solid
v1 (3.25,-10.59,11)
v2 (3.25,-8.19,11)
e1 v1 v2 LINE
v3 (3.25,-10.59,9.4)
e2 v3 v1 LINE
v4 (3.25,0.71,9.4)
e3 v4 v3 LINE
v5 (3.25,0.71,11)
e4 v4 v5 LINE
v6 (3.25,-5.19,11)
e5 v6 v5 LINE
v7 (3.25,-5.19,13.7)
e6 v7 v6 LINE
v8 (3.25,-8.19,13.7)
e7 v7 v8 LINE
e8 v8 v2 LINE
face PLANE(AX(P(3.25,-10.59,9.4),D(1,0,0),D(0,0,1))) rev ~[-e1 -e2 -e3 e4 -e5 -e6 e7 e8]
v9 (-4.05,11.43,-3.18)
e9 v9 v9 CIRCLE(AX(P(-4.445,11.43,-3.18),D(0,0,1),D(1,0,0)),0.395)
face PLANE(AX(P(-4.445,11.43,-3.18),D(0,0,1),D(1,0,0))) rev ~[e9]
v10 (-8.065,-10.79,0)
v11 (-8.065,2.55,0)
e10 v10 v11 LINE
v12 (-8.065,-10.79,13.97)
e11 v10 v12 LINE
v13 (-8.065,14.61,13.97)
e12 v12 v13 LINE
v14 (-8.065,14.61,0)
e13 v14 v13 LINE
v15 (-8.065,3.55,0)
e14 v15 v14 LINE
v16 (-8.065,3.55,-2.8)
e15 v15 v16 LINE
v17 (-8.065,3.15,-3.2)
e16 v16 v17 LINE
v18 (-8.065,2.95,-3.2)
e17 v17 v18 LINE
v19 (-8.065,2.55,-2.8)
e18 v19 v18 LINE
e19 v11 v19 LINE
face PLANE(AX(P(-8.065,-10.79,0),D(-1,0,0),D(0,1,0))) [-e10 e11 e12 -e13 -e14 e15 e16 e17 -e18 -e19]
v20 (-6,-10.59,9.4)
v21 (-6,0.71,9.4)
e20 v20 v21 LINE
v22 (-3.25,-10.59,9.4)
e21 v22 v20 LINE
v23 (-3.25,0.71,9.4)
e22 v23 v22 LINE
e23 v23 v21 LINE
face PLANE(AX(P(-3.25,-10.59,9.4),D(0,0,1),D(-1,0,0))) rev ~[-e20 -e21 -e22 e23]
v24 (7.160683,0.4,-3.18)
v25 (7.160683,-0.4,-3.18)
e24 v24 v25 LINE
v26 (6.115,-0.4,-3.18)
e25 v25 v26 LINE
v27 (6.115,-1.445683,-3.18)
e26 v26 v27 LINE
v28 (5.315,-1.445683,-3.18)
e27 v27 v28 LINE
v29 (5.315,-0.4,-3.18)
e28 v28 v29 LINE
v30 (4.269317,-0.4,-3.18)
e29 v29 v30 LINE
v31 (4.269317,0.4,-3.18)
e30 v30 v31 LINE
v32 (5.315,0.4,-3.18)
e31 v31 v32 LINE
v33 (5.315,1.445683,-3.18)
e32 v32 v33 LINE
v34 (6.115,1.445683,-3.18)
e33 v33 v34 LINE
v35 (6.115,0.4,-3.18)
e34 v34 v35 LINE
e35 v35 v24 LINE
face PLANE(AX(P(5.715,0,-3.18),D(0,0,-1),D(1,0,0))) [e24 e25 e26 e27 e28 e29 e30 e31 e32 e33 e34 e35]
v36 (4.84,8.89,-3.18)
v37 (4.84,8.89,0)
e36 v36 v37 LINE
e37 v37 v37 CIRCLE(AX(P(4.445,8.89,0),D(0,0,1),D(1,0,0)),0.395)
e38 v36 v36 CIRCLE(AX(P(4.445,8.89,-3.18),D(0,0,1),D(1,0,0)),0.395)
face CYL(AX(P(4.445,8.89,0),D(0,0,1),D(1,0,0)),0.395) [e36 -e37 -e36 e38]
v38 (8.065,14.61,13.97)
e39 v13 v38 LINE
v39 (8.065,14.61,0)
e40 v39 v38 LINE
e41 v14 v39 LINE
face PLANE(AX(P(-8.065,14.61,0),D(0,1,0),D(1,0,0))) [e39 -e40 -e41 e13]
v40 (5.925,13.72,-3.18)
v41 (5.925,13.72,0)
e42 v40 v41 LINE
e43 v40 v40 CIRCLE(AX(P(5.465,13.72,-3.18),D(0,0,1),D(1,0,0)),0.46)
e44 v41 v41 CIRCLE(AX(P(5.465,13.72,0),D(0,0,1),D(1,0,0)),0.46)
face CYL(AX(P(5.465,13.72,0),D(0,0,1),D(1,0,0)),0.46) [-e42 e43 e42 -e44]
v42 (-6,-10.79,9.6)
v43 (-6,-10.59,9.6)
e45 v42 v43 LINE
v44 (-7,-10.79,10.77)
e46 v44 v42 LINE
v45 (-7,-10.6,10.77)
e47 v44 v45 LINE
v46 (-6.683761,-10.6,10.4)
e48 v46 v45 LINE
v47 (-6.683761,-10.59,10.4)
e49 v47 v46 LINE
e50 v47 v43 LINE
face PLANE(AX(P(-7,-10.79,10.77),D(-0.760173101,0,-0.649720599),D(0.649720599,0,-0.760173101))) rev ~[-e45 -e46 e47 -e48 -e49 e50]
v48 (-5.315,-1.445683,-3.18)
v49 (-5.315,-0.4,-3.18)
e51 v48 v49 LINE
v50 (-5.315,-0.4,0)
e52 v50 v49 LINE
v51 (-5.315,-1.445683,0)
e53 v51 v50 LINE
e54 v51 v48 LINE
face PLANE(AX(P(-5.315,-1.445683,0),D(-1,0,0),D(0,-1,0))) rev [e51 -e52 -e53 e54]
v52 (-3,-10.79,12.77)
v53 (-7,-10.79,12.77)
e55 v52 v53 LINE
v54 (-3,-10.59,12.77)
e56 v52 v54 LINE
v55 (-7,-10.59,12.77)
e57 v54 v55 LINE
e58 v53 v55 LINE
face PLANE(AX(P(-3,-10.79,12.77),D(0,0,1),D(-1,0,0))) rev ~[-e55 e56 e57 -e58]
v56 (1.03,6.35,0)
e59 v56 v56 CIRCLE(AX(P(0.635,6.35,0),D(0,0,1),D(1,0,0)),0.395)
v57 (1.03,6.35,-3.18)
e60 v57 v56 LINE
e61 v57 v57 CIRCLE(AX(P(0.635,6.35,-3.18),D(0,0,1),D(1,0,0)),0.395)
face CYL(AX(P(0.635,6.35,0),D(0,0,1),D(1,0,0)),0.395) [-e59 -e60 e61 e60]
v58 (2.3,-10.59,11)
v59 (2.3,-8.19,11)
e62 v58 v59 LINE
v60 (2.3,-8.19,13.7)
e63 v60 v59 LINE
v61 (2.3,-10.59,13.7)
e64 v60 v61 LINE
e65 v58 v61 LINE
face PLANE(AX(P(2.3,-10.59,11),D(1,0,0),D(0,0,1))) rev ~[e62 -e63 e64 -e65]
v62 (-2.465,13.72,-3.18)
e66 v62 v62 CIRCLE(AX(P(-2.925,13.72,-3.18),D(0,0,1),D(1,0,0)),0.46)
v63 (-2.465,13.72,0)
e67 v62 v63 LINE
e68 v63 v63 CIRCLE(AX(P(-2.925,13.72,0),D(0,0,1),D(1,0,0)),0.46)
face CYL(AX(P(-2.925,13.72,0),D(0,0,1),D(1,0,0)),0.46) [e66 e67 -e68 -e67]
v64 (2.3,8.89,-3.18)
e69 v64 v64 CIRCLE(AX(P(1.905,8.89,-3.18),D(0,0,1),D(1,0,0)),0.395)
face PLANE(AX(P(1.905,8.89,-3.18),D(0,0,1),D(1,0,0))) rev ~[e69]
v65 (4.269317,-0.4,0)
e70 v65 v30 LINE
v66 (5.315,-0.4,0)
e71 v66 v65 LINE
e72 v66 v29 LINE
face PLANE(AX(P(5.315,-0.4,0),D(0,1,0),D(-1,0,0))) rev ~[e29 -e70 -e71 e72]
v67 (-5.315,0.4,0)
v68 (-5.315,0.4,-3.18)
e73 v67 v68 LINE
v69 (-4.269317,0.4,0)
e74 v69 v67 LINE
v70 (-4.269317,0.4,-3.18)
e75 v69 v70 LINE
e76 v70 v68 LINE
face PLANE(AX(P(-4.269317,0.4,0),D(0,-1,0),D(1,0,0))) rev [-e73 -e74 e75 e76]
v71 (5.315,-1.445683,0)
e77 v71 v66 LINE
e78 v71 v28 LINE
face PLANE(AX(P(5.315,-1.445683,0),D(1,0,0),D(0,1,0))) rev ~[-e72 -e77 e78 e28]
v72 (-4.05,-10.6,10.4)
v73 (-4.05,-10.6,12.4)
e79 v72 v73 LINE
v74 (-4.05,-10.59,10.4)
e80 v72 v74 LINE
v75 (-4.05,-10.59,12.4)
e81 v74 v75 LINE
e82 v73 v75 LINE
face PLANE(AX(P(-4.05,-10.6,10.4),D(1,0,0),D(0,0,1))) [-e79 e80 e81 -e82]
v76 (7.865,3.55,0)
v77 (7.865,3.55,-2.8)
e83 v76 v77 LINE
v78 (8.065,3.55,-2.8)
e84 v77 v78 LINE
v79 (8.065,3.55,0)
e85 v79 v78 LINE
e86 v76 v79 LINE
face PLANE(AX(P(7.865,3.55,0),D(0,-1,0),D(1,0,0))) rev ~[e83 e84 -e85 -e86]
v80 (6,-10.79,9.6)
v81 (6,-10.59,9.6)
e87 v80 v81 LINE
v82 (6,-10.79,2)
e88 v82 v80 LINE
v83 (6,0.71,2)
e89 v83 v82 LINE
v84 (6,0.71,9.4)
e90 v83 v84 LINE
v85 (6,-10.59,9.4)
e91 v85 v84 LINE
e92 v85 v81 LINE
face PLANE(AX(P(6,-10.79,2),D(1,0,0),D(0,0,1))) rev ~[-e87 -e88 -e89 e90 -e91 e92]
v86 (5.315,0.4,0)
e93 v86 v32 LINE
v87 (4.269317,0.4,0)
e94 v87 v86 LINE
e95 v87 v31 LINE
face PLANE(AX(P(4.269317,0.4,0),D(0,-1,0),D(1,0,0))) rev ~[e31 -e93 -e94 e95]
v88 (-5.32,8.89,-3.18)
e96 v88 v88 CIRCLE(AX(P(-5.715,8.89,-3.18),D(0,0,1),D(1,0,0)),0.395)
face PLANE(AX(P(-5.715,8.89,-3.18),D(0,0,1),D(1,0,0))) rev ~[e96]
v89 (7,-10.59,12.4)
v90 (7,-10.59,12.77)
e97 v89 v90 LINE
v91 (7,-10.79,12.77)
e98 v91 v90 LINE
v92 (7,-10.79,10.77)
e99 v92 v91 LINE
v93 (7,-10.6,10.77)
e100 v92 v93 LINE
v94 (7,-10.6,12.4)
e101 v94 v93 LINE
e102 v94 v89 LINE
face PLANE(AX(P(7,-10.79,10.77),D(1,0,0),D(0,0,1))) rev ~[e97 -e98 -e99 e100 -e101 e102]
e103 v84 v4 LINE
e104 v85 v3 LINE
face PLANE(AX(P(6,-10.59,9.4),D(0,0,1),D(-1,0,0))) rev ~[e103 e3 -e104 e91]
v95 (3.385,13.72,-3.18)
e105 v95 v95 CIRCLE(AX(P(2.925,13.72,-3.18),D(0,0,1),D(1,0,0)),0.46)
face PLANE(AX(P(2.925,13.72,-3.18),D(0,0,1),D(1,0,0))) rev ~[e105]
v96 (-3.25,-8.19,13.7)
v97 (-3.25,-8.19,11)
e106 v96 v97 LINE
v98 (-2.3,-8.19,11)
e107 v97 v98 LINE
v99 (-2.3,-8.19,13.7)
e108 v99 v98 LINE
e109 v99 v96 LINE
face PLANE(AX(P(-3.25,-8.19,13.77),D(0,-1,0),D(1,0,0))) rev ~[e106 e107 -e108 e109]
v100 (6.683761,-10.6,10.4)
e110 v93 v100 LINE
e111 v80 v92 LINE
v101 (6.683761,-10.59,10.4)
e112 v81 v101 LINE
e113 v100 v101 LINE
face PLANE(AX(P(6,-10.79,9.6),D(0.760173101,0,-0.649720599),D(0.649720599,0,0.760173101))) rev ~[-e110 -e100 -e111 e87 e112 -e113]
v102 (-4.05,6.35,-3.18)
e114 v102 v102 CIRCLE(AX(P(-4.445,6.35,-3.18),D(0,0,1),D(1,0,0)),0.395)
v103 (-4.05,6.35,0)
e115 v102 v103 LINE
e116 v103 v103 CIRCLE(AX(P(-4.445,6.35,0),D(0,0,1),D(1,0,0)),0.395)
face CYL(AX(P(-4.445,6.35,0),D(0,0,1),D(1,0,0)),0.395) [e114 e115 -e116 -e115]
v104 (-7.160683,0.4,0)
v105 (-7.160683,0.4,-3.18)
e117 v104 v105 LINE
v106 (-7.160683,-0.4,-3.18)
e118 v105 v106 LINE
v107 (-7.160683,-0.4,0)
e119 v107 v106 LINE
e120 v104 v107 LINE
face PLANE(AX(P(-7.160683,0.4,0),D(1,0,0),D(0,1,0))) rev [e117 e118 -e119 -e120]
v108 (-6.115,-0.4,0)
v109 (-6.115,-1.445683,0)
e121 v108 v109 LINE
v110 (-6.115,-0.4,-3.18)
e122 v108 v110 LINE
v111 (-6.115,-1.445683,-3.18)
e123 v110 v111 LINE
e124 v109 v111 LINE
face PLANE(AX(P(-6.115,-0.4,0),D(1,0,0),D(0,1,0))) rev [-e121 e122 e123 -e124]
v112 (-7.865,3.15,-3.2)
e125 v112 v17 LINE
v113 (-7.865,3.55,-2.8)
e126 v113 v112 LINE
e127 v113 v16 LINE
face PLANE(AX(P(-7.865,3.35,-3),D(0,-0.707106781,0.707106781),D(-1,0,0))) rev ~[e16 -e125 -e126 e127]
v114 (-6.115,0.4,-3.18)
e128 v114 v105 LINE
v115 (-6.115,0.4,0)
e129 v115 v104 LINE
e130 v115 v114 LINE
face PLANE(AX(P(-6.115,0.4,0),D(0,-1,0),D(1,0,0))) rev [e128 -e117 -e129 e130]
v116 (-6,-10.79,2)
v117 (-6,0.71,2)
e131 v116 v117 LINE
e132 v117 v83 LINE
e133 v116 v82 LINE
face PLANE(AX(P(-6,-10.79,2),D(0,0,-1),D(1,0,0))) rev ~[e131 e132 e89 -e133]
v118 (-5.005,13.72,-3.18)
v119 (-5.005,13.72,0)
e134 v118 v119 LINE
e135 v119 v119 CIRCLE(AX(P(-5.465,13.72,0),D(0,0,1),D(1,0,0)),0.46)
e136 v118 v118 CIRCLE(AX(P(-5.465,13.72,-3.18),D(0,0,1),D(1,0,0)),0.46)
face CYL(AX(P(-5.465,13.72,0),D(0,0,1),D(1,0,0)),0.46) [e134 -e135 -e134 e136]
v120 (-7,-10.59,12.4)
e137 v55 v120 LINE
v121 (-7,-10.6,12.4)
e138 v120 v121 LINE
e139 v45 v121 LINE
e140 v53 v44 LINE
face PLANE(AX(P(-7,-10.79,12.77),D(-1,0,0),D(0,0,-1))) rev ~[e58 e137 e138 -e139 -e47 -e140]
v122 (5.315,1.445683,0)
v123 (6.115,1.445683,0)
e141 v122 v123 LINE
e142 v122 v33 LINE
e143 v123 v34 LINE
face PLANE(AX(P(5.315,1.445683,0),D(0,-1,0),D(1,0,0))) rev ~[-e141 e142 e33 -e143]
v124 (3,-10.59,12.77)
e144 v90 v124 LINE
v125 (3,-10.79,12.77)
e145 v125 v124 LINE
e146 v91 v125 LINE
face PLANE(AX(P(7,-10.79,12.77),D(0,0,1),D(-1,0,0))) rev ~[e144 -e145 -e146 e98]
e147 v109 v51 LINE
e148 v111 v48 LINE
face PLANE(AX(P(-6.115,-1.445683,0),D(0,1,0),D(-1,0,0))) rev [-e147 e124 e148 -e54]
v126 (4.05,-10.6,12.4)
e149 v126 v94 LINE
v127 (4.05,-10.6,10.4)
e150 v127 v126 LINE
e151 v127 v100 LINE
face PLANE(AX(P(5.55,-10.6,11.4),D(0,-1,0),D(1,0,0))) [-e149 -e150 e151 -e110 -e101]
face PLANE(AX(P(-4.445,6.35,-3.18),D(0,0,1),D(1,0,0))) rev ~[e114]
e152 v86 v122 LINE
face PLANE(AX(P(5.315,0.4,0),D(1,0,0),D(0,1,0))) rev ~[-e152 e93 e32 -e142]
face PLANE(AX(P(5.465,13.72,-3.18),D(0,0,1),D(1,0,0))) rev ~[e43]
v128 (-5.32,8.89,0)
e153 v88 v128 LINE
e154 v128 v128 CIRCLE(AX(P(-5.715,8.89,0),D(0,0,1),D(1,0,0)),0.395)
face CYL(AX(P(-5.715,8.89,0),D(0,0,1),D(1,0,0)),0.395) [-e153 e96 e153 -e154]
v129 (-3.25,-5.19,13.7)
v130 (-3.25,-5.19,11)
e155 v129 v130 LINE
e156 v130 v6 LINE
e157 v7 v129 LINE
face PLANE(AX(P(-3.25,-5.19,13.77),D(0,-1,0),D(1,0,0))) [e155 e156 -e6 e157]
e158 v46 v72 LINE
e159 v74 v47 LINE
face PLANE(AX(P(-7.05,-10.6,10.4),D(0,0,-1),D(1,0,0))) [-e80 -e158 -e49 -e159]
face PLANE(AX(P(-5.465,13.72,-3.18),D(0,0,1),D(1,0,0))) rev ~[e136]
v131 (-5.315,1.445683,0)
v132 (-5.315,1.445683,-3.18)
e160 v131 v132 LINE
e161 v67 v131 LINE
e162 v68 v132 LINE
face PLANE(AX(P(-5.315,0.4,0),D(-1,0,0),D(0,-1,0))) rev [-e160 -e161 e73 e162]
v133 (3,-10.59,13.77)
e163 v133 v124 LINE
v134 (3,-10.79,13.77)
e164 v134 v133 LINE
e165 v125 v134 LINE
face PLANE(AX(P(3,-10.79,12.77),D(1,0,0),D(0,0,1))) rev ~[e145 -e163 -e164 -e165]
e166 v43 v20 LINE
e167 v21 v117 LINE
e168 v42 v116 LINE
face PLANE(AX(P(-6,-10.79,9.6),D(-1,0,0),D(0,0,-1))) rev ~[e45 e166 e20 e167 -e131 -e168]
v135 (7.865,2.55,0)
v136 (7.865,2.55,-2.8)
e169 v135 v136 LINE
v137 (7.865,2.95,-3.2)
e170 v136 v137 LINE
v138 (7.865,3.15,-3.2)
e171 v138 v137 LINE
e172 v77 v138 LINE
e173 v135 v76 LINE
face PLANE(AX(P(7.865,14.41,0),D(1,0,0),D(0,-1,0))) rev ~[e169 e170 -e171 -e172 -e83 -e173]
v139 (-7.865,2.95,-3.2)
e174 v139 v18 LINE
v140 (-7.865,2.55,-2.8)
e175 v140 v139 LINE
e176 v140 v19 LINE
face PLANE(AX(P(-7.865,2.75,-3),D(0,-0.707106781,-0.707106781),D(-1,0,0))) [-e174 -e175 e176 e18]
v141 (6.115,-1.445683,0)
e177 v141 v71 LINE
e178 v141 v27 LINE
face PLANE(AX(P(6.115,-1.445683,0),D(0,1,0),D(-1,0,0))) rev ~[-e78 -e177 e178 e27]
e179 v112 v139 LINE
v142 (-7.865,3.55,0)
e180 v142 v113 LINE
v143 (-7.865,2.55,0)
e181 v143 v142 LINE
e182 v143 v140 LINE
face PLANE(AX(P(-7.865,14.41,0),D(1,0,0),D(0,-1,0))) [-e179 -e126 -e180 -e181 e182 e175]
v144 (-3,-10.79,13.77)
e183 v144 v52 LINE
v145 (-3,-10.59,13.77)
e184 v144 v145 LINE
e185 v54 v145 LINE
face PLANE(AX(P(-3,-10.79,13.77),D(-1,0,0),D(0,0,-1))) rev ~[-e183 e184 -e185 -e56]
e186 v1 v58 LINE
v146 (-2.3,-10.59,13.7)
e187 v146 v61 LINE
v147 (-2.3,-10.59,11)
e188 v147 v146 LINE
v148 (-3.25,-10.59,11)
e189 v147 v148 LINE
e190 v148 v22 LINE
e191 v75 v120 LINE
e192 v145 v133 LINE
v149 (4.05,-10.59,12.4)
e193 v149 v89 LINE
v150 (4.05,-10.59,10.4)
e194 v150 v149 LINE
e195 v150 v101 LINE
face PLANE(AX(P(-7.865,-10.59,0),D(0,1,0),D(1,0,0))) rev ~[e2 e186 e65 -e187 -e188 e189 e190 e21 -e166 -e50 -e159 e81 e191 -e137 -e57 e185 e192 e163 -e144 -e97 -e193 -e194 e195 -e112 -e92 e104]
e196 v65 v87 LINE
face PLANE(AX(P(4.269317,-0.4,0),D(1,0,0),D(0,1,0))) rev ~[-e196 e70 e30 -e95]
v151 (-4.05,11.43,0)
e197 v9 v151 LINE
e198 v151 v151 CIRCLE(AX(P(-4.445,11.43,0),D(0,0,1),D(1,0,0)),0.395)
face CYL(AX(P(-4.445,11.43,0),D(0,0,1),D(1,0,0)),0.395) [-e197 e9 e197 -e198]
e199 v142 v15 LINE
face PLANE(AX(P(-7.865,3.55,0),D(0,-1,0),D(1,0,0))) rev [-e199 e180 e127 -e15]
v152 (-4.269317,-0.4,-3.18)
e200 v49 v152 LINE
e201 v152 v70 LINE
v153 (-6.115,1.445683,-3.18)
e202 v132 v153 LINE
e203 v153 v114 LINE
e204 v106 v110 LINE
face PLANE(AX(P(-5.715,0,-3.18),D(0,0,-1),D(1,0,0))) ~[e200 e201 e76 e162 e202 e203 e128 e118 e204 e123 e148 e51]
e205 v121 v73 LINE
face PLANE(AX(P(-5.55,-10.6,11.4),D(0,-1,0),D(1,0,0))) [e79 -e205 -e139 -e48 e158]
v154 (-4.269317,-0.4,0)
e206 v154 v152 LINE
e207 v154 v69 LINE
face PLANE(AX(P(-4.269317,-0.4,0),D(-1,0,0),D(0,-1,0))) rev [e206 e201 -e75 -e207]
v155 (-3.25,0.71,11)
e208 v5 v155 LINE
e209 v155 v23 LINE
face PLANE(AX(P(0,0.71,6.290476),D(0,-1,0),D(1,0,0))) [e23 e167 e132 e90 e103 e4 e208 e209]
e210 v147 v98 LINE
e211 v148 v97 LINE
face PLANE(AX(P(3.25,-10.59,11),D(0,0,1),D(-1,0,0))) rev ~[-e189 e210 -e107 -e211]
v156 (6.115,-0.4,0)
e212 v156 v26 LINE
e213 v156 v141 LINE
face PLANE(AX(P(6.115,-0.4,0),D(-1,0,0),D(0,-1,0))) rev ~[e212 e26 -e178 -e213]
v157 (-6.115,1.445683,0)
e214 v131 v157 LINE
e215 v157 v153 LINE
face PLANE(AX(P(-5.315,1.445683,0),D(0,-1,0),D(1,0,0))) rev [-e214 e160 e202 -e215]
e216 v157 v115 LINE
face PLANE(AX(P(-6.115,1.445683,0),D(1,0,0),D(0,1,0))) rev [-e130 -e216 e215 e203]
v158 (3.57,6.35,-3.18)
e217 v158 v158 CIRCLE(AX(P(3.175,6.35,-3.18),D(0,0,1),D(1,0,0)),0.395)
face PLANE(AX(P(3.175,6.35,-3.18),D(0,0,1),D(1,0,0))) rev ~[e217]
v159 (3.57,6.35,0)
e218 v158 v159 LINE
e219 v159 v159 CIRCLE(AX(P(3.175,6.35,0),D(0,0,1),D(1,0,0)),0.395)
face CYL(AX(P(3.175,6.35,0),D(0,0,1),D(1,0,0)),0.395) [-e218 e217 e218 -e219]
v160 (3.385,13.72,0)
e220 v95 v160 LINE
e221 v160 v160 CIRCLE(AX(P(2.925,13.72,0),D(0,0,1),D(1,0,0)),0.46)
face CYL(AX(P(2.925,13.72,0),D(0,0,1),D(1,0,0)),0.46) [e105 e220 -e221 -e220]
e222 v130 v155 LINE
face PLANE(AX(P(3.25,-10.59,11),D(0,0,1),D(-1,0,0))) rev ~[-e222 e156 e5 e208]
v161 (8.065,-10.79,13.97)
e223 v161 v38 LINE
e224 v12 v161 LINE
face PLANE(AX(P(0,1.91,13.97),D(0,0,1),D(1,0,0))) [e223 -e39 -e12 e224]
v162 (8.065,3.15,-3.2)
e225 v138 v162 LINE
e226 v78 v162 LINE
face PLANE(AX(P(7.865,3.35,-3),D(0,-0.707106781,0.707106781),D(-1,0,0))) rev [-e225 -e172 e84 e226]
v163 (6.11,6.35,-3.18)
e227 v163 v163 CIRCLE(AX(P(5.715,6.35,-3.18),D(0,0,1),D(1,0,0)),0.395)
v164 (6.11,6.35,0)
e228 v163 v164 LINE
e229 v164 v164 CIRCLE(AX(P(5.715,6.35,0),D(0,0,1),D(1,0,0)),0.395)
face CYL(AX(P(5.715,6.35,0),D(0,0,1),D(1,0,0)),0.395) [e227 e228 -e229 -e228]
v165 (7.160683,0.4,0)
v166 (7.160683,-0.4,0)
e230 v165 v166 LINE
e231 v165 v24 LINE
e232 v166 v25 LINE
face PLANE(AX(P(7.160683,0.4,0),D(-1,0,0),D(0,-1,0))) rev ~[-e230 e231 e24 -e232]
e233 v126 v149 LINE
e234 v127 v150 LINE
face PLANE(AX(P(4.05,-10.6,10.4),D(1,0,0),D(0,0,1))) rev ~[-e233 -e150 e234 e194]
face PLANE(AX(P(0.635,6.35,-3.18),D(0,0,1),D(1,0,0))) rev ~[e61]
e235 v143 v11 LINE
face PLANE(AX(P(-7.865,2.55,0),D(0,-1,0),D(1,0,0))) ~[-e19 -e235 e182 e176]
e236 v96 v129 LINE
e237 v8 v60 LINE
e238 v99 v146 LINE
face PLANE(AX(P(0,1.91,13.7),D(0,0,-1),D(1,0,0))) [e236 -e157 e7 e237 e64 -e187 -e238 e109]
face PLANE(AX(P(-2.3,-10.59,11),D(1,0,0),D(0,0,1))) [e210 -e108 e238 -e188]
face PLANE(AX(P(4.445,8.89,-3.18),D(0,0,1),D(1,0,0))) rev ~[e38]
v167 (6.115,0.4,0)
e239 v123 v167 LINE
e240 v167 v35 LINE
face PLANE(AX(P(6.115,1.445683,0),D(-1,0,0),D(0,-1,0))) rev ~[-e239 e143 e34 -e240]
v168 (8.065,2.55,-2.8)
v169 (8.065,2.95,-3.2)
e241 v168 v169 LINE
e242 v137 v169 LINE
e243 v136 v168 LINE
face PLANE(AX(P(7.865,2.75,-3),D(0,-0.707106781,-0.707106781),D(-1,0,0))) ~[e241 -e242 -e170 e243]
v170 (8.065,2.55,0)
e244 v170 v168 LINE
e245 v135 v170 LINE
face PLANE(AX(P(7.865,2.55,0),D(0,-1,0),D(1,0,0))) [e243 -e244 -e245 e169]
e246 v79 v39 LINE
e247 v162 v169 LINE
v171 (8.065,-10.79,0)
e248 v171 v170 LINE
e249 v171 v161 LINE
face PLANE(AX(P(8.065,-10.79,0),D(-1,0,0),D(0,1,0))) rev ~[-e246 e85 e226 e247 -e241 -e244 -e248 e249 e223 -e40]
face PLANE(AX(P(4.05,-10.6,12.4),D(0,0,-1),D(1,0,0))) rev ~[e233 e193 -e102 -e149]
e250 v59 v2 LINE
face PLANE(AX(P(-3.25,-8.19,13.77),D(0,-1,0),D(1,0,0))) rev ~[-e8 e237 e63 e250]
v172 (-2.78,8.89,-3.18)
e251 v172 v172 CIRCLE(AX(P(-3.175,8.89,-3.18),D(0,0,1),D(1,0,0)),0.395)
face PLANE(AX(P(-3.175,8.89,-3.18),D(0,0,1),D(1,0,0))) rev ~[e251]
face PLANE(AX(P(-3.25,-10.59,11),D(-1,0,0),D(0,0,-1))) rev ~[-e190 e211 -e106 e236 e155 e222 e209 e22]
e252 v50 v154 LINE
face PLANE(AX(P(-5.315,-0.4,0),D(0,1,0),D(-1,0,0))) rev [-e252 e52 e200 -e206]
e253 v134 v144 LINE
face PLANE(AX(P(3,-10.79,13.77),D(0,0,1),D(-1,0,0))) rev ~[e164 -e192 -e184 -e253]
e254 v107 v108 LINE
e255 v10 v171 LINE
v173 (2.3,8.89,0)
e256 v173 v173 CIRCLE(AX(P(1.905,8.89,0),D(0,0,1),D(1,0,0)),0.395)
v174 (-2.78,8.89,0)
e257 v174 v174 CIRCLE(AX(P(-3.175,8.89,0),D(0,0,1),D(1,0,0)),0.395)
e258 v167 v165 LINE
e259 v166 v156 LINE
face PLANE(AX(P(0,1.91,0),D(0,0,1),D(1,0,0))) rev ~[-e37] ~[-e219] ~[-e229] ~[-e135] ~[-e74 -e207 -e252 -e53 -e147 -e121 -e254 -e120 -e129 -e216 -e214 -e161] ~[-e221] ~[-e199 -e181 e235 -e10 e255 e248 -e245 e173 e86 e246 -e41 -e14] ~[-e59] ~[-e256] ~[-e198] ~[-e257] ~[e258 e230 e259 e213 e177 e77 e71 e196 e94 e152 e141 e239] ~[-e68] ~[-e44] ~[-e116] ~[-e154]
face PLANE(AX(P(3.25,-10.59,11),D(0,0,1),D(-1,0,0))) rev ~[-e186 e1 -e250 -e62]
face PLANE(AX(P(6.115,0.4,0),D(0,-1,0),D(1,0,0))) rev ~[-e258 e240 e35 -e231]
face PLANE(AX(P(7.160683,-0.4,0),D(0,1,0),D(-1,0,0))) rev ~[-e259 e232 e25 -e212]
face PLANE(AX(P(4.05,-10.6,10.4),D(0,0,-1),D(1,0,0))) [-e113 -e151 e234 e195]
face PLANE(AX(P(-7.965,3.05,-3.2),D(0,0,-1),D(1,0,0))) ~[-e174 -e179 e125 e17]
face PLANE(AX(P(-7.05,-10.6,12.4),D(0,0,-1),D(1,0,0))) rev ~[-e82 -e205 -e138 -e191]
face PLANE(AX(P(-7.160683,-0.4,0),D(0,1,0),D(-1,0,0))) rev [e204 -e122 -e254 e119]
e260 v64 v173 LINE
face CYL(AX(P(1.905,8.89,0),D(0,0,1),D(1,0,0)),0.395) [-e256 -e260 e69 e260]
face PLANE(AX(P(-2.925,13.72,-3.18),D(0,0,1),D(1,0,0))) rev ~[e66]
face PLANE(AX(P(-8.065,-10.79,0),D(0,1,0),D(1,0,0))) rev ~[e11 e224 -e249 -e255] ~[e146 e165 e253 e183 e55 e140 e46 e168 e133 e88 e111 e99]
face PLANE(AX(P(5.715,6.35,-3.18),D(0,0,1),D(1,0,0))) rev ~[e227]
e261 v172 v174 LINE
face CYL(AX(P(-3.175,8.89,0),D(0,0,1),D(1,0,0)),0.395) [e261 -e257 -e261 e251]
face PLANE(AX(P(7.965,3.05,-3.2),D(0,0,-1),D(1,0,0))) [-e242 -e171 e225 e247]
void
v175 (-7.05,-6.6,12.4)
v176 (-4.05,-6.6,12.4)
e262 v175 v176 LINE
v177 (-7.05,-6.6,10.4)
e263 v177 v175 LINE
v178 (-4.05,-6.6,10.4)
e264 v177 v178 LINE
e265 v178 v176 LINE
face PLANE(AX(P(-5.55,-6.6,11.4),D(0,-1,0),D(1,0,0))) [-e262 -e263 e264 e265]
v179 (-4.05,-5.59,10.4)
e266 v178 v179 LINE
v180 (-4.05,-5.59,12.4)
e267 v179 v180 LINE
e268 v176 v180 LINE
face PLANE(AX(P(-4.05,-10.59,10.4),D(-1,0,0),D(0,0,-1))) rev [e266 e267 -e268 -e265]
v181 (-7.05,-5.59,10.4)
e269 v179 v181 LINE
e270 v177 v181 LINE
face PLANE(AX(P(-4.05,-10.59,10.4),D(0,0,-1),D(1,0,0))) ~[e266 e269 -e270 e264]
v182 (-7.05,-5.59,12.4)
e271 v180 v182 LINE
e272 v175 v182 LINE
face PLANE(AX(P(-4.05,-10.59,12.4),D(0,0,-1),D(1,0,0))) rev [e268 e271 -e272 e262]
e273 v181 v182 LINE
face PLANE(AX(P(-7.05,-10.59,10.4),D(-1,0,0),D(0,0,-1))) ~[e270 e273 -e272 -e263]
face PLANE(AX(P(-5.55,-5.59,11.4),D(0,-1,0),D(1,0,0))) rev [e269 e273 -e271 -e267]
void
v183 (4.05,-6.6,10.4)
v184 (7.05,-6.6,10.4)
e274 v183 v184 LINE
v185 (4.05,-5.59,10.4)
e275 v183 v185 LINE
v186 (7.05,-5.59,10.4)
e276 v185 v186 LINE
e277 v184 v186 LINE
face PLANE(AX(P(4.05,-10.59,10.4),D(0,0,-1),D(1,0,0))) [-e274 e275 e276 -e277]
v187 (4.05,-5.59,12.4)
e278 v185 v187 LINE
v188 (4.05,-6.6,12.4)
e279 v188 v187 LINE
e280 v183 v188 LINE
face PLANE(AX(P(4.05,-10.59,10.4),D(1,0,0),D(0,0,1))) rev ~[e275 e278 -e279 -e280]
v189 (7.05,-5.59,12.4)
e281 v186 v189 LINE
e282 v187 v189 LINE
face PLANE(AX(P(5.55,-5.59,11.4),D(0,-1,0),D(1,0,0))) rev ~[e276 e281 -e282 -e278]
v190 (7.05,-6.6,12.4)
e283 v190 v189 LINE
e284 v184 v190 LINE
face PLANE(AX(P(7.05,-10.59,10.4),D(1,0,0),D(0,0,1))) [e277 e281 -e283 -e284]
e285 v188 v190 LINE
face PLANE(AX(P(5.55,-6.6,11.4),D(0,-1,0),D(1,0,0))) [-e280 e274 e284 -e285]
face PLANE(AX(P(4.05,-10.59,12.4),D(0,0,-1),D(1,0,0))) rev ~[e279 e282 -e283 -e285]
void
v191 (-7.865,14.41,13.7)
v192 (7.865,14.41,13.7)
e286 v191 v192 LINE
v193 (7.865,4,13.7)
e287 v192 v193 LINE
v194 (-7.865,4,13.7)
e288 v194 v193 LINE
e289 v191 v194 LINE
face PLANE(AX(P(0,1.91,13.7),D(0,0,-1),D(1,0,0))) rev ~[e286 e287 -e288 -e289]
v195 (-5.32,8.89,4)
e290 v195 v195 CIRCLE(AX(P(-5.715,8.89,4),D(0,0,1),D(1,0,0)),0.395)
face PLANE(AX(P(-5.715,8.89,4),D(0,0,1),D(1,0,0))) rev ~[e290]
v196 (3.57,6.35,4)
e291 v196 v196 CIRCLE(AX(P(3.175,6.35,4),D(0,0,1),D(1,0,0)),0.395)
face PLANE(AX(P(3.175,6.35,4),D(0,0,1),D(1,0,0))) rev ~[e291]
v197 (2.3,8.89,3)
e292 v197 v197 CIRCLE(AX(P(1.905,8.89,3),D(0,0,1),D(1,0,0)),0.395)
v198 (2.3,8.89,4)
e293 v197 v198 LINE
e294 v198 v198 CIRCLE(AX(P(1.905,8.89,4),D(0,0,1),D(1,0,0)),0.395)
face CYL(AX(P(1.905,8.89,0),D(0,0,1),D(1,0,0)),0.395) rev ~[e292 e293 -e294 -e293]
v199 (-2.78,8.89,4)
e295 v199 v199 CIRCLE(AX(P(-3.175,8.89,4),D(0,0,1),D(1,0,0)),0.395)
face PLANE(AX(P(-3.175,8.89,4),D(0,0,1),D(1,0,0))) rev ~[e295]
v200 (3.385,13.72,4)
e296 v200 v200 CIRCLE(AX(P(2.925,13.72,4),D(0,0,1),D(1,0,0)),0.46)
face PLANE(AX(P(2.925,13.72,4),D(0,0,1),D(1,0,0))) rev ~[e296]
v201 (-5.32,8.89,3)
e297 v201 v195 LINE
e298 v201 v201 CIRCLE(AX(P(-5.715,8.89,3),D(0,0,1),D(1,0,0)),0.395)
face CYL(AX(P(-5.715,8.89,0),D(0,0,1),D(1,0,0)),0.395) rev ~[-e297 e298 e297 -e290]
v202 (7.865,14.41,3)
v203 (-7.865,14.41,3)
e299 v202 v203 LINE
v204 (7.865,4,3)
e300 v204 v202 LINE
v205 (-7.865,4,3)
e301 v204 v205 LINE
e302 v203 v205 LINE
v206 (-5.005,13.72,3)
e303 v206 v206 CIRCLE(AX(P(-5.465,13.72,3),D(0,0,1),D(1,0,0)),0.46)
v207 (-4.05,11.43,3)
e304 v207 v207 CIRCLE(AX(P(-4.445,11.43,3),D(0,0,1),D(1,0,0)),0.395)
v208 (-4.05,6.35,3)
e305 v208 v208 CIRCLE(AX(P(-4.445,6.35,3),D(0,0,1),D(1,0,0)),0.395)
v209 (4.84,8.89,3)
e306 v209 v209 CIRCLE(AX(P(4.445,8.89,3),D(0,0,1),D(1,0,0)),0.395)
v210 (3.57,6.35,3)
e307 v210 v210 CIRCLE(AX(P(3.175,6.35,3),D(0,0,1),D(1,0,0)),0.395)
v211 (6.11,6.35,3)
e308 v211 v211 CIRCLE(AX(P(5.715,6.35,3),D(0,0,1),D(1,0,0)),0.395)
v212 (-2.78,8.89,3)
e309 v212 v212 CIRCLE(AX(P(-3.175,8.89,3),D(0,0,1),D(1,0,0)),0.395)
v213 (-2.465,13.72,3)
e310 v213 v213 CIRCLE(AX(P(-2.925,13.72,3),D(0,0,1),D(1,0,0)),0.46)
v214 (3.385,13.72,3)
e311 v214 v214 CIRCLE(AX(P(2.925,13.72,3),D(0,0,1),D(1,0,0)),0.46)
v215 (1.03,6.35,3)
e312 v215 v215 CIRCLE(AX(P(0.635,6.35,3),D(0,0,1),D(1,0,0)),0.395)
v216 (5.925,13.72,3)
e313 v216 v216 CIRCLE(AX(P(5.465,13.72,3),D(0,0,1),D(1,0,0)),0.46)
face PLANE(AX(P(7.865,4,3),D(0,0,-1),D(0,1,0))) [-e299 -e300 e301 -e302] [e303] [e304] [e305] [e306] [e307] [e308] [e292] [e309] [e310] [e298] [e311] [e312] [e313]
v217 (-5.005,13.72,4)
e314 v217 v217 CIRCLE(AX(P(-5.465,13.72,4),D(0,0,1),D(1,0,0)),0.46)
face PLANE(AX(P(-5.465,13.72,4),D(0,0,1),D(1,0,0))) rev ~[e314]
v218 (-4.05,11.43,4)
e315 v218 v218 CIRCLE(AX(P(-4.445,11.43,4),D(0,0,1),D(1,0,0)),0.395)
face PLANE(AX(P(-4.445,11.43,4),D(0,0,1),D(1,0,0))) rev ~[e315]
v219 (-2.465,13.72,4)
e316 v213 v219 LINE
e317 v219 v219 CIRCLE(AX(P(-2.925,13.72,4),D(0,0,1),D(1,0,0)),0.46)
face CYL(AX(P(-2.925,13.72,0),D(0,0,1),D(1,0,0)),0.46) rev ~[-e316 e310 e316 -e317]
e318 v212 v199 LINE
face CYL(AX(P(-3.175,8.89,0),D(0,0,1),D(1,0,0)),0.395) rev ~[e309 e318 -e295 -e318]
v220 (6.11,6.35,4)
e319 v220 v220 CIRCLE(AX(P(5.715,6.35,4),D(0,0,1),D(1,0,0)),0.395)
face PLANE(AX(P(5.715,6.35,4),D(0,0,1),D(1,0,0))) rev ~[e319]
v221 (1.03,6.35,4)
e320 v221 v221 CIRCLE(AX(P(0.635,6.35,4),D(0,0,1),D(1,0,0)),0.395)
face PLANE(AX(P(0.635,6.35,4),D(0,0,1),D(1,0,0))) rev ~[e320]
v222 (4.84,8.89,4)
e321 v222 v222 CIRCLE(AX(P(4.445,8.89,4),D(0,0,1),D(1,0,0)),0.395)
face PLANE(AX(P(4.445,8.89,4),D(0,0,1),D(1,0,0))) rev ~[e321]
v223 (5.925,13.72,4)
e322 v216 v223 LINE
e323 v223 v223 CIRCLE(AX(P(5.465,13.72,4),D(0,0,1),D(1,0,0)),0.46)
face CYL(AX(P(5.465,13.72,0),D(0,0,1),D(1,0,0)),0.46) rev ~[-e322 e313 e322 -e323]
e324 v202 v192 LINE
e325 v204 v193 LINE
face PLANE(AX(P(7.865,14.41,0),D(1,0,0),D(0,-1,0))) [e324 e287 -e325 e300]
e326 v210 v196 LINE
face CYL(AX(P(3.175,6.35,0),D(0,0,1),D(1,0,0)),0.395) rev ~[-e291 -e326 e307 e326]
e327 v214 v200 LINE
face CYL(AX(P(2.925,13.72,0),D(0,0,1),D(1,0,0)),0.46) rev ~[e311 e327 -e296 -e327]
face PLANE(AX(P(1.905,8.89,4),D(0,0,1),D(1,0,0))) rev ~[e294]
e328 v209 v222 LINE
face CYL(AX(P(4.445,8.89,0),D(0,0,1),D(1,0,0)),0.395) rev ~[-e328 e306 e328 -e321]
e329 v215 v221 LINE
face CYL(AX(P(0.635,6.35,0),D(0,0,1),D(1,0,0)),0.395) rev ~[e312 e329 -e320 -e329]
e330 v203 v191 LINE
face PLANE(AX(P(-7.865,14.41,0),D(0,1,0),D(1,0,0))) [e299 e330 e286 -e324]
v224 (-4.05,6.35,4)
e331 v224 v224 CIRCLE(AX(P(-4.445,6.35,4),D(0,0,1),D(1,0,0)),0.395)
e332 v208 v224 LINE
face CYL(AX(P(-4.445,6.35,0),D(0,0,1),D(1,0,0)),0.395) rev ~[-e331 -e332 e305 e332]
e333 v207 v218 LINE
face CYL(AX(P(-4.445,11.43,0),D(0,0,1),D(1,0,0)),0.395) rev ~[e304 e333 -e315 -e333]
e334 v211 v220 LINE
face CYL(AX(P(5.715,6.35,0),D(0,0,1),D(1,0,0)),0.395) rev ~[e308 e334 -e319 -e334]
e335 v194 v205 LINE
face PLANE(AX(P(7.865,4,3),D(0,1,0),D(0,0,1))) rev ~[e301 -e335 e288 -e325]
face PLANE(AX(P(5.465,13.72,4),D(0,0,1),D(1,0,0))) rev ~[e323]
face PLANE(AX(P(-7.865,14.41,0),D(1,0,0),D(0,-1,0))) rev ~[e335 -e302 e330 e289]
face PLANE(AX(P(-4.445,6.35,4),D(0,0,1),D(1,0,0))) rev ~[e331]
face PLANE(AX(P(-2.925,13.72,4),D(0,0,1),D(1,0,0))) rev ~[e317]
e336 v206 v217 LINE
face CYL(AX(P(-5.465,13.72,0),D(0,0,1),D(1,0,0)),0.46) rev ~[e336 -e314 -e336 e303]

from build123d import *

# Parameters (mm, degrees)
SKETCH012_R       = 0.395
SKETCH012_R_2     = 0.46
PAD005_DEPTH      = 4
PAD005_DEPTH_BACK = 3.18
SKETCH011_W       = 3
SKETCH011_H       = 2
PAD004_DEPTH      = 4
SKETCH010_W       = 3
SKETCH010_H       = 2
PAD003_DEPTH      = 4
SKETCH_W          = 15.73
SKETCH_H          = 25
PAD_DEPTH         = 13.77
PAD001_DEPTH      = 3.18
POCKET_DEPTH      = 11.3
SKETCH004_W       = 4.6
SKETCH004_H       = 3
POCKET002_DEPTH   = 5.4
SKETCH003_W       = 6.5
SKETCH003_H       = 3
POCKET003_DEPTH   = 11.77
SKETCH005_W       = 11
SKETCH005_H       = 12
POCKET004_DEPTH   = 15.731
SKETCH009_W       = 3
SKETCH009_H       = 2
POCKET007_DEPTH   = 5
SKETCH006_W       = 16.13
SKETCH006_H       = 25.4
PAD002_DEPTH      = 13.97
SKETCH007_W       = 15.73
SKETCH007_H       = 25
POCKET005_DEPTH   = 13.7
POCKET006_DEPTH   = 0.2
SKETCH013_W       = 0.2
SKETCH013_H       = 1
PAD006_DEPTH      = 3.2
CHAMFER_SIZE      = 0.4


with BuildPart() as pins_pad:
    # Sketch012 → Pad005 (new body, two sides)
    with BuildSketch(Plane.XY) as pad005_sk:
        with Locations((-4.445, 11.43)):
            Circle(SKETCH012_R)
        with Locations((-4.445, 6.35)):
            Circle(SKETCH012_R)
        with Locations((-5.715, 8.89)):
            Circle(SKETCH012_R)
        with Locations((-3.175, 8.89)):
            Circle(SKETCH012_R)
        with Locations((3.175, 6.35)):
            Circle(SKETCH012_R)
        with Locations((5.715, 6.35)):
            Circle(SKETCH012_R)
        with Locations((0.635, 6.35)):
            Circle(SKETCH012_R)
        with Locations((1.905, 8.89)):
            Circle(SKETCH012_R)
        with Locations((4.445, 8.89)):
            Circle(SKETCH012_R)
        with Locations((2.925, 13.72)):
            Circle(SKETCH012_R_2)
        with Locations((5.465, 13.72)):
            Circle(SKETCH012_R_2)
        with Locations((-5.465, 13.72)):
            Circle(SKETCH012_R_2)
        with Locations((-2.925, 13.72)):
            Circle(SKETCH012_R_2)
    extrude(amount=PAD005_DEPTH)
    extrude(pad005_sk.sketch, amount=-PAD005_DEPTH_BACK)


with BuildPart() as led_left_green_pad:
    # Sketch011 → Pad004 (new body)
    with BuildSketch(Plane.XZ.offset(10.6)):
        with Locations((-5.55, 11.4)):
            Rectangle(SKETCH011_W, SKETCH011_H)
    extrude(amount=-PAD004_DEPTH)


with BuildPart() as led_right_yellow_pad:
    # Sketch010 → Pad003 (new body)
    with BuildSketch(Plane.XZ.offset(10.6)):
        with Locations((5.55, 11.4)):
            Rectangle(SKETCH010_W, SKETCH010_H)
    extrude(amount=-PAD003_DEPTH)


with BuildPart() as led_left_mirrored:
    # Sketch → Pad (new body)
    with BuildSketch(Plane.XY):
        with Locations((0, 1.91)):
            Rectangle(SKETCH_W, SKETCH_H)
    extrude(amount=PAD_DEPTH)

    # Sketch001 → Pad001 (new body)
    with BuildSketch(Plane(origin=(0, 0, 0), x_dir=(1, 0, 0), z_dir=(0, 0, -1))):
        Polygon((5.315, 1.445683), (5.315, 0.4), (4.269317, 0.4), (4.269317, -0.4), (5.315, -0.4), (5.315, -1.445683), (6.115, -1.445683), (6.115, -0.4), (7.160683, -0.4), (7.160683, 0.4), (6.115, 0.4), (6.115, 1.445683), align=None)
    pad001 = extrude(amount=PAD001_DEPTH)

    # Mirrored: Pad001 across Sketch001 V_Axis
    add(pad001.mirror(Plane(origin=(0, 0, 0), x_dir=(0, 0, -1), z_dir=(1, 0, 0))))

    # Sketch002 → Pocket (cut)
    with BuildSketch(Plane.XZ.offset(10.59)):
        Polygon((-6, 2), (6, 2), (6, 9.4), (3.25, 9.4), (3.25, 11), (2.15, 11), (-2.15, 11), (-3.25, 11), (-3.25, 9.4), (-6, 9.4), align=None)
    extrude(amount=-POCKET_DEPTH, mode=Mode.SUBTRACT)

    # Sketch004 → Pocket002 (cut)
    with BuildSketch(Plane.XZ.offset(10.59)):
        with Locations((0, 12.5)):
            Rectangle(SKETCH004_W, SKETCH004_H)
    extrude(amount=-POCKET002_DEPTH, mode=Mode.SUBTRACT)

    # Sketch003 → Pocket003 (cut)
    with BuildSketch(Plane.XY.offset(13.77)):
        with Locations((0, -6.69)):
            Rectangle(SKETCH003_W, SKETCH003_H)
    extrude(amount=-POCKET003_DEPTH, mode=Mode.SUBTRACT)

    # Sketch005 → Pocket004 (cut, through all)
    with BuildSketch(Plane.YZ.offset(7.865)):
        with Locations((9.5, 9)):
            Rectangle(SKETCH005_W, SKETCH005_H)
    extrude(amount=-POCKET004_DEPTH, mode=Mode.SUBTRACT)

    # Sketch009 → Pocket007 (cut)
    with BuildSketch(Plane.XZ.offset(10.59)):
        with Locations((5.55, 11.4)):
            Rectangle(SKETCH009_W, SKETCH009_H)
    pocket007 = extrude(amount=-POCKET007_DEPTH, mode=Mode.SUBTRACT)

    # Mirrored001: Pocket007 across Sketch009 V_Axis
    add(pocket007.mirror(Plane(origin=(0, -10.59, 0), x_dir=(0, -1, 0), z_dir=(1, 0, 0))), mode=Mode.SUBTRACT)


with BuildPart() as conn_rj45_magjack_poep:
    # Sketch006 → Pad002 (new body)
    with BuildSketch(Plane.XY):
        with Locations((0, 1.91)):
            Rectangle(SKETCH006_W, SKETCH006_H)
    extrude(amount=PAD002_DEPTH)

    # Sketch007 → Pocket005 (cut)
    with BuildSketch(Plane(origin=(0, 0, 0), x_dir=(1, 0, 0), z_dir=(0, 0, -1))):
        with Locations((0, -1.91)):
            Rectangle(SKETCH007_W, SKETCH007_H)
    extrude(amount=-POCKET005_DEPTH, mode=Mode.SUBTRACT)

    # Sketch008 → Pocket006 (cut)
    with BuildSketch(Plane.XZ.offset(10.79)):
        Polygon((-6, 2), (6, 2), (6, 9.6), (7, 10.77), (7, 12.77), (3, 12.77), (3, 13.77), (-3, 13.77), (-3, 12.77), (-7, 12.77), (-7, 10.77), (-6, 9.6), align=None)
    extrude(amount=-POCKET006_DEPTH, mode=Mode.SUBTRACT)

    # Sketch013 → Pad006 (new body)
    with BuildSketch(Plane(origin=(0, 0, 0), x_dir=(1, 0, 0), z_dir=(0, 0, -1))):
        with Locations((7.965, -3.05)):
            Rectangle(SKETCH013_W, SKETCH013_H)
    pad006 = extrude(amount=PAD006_DEPTH)

    # Mirrored002: Pad006 across Sketch013 V_Axis
    add(pad006.mirror(Plane(origin=(0, 0, 0), x_dir=(0, 0, -1), z_dir=(1, 0, 0))))

    # Chamfer
    chamfer_edges = [conn_rj45_magjack_poep.edges().sort_by_distance(p)[0] for p in [
        (7.965, 3.55, -3.2),
        (7.965, 2.55, -3.2),
        (-7.965, 2.55, -3.2),
        (-7.965, 3.55, -3.2),
    ]]
    chamfer(chamfer_edges, length=CHAMFER_SIZE)

    # Fusion: union Pins_Pad, LED_Left_Green_Pad, LED_Right_Yellow_Pad, LED_Left_Mirrored
    add(pins_pad.part)
    add(led_left_green_pad.part)
    add(led_right_yellow_pad.part)
    add(led_left_mirrored.part)


solid = conn_rj45_magjack_poep.part
